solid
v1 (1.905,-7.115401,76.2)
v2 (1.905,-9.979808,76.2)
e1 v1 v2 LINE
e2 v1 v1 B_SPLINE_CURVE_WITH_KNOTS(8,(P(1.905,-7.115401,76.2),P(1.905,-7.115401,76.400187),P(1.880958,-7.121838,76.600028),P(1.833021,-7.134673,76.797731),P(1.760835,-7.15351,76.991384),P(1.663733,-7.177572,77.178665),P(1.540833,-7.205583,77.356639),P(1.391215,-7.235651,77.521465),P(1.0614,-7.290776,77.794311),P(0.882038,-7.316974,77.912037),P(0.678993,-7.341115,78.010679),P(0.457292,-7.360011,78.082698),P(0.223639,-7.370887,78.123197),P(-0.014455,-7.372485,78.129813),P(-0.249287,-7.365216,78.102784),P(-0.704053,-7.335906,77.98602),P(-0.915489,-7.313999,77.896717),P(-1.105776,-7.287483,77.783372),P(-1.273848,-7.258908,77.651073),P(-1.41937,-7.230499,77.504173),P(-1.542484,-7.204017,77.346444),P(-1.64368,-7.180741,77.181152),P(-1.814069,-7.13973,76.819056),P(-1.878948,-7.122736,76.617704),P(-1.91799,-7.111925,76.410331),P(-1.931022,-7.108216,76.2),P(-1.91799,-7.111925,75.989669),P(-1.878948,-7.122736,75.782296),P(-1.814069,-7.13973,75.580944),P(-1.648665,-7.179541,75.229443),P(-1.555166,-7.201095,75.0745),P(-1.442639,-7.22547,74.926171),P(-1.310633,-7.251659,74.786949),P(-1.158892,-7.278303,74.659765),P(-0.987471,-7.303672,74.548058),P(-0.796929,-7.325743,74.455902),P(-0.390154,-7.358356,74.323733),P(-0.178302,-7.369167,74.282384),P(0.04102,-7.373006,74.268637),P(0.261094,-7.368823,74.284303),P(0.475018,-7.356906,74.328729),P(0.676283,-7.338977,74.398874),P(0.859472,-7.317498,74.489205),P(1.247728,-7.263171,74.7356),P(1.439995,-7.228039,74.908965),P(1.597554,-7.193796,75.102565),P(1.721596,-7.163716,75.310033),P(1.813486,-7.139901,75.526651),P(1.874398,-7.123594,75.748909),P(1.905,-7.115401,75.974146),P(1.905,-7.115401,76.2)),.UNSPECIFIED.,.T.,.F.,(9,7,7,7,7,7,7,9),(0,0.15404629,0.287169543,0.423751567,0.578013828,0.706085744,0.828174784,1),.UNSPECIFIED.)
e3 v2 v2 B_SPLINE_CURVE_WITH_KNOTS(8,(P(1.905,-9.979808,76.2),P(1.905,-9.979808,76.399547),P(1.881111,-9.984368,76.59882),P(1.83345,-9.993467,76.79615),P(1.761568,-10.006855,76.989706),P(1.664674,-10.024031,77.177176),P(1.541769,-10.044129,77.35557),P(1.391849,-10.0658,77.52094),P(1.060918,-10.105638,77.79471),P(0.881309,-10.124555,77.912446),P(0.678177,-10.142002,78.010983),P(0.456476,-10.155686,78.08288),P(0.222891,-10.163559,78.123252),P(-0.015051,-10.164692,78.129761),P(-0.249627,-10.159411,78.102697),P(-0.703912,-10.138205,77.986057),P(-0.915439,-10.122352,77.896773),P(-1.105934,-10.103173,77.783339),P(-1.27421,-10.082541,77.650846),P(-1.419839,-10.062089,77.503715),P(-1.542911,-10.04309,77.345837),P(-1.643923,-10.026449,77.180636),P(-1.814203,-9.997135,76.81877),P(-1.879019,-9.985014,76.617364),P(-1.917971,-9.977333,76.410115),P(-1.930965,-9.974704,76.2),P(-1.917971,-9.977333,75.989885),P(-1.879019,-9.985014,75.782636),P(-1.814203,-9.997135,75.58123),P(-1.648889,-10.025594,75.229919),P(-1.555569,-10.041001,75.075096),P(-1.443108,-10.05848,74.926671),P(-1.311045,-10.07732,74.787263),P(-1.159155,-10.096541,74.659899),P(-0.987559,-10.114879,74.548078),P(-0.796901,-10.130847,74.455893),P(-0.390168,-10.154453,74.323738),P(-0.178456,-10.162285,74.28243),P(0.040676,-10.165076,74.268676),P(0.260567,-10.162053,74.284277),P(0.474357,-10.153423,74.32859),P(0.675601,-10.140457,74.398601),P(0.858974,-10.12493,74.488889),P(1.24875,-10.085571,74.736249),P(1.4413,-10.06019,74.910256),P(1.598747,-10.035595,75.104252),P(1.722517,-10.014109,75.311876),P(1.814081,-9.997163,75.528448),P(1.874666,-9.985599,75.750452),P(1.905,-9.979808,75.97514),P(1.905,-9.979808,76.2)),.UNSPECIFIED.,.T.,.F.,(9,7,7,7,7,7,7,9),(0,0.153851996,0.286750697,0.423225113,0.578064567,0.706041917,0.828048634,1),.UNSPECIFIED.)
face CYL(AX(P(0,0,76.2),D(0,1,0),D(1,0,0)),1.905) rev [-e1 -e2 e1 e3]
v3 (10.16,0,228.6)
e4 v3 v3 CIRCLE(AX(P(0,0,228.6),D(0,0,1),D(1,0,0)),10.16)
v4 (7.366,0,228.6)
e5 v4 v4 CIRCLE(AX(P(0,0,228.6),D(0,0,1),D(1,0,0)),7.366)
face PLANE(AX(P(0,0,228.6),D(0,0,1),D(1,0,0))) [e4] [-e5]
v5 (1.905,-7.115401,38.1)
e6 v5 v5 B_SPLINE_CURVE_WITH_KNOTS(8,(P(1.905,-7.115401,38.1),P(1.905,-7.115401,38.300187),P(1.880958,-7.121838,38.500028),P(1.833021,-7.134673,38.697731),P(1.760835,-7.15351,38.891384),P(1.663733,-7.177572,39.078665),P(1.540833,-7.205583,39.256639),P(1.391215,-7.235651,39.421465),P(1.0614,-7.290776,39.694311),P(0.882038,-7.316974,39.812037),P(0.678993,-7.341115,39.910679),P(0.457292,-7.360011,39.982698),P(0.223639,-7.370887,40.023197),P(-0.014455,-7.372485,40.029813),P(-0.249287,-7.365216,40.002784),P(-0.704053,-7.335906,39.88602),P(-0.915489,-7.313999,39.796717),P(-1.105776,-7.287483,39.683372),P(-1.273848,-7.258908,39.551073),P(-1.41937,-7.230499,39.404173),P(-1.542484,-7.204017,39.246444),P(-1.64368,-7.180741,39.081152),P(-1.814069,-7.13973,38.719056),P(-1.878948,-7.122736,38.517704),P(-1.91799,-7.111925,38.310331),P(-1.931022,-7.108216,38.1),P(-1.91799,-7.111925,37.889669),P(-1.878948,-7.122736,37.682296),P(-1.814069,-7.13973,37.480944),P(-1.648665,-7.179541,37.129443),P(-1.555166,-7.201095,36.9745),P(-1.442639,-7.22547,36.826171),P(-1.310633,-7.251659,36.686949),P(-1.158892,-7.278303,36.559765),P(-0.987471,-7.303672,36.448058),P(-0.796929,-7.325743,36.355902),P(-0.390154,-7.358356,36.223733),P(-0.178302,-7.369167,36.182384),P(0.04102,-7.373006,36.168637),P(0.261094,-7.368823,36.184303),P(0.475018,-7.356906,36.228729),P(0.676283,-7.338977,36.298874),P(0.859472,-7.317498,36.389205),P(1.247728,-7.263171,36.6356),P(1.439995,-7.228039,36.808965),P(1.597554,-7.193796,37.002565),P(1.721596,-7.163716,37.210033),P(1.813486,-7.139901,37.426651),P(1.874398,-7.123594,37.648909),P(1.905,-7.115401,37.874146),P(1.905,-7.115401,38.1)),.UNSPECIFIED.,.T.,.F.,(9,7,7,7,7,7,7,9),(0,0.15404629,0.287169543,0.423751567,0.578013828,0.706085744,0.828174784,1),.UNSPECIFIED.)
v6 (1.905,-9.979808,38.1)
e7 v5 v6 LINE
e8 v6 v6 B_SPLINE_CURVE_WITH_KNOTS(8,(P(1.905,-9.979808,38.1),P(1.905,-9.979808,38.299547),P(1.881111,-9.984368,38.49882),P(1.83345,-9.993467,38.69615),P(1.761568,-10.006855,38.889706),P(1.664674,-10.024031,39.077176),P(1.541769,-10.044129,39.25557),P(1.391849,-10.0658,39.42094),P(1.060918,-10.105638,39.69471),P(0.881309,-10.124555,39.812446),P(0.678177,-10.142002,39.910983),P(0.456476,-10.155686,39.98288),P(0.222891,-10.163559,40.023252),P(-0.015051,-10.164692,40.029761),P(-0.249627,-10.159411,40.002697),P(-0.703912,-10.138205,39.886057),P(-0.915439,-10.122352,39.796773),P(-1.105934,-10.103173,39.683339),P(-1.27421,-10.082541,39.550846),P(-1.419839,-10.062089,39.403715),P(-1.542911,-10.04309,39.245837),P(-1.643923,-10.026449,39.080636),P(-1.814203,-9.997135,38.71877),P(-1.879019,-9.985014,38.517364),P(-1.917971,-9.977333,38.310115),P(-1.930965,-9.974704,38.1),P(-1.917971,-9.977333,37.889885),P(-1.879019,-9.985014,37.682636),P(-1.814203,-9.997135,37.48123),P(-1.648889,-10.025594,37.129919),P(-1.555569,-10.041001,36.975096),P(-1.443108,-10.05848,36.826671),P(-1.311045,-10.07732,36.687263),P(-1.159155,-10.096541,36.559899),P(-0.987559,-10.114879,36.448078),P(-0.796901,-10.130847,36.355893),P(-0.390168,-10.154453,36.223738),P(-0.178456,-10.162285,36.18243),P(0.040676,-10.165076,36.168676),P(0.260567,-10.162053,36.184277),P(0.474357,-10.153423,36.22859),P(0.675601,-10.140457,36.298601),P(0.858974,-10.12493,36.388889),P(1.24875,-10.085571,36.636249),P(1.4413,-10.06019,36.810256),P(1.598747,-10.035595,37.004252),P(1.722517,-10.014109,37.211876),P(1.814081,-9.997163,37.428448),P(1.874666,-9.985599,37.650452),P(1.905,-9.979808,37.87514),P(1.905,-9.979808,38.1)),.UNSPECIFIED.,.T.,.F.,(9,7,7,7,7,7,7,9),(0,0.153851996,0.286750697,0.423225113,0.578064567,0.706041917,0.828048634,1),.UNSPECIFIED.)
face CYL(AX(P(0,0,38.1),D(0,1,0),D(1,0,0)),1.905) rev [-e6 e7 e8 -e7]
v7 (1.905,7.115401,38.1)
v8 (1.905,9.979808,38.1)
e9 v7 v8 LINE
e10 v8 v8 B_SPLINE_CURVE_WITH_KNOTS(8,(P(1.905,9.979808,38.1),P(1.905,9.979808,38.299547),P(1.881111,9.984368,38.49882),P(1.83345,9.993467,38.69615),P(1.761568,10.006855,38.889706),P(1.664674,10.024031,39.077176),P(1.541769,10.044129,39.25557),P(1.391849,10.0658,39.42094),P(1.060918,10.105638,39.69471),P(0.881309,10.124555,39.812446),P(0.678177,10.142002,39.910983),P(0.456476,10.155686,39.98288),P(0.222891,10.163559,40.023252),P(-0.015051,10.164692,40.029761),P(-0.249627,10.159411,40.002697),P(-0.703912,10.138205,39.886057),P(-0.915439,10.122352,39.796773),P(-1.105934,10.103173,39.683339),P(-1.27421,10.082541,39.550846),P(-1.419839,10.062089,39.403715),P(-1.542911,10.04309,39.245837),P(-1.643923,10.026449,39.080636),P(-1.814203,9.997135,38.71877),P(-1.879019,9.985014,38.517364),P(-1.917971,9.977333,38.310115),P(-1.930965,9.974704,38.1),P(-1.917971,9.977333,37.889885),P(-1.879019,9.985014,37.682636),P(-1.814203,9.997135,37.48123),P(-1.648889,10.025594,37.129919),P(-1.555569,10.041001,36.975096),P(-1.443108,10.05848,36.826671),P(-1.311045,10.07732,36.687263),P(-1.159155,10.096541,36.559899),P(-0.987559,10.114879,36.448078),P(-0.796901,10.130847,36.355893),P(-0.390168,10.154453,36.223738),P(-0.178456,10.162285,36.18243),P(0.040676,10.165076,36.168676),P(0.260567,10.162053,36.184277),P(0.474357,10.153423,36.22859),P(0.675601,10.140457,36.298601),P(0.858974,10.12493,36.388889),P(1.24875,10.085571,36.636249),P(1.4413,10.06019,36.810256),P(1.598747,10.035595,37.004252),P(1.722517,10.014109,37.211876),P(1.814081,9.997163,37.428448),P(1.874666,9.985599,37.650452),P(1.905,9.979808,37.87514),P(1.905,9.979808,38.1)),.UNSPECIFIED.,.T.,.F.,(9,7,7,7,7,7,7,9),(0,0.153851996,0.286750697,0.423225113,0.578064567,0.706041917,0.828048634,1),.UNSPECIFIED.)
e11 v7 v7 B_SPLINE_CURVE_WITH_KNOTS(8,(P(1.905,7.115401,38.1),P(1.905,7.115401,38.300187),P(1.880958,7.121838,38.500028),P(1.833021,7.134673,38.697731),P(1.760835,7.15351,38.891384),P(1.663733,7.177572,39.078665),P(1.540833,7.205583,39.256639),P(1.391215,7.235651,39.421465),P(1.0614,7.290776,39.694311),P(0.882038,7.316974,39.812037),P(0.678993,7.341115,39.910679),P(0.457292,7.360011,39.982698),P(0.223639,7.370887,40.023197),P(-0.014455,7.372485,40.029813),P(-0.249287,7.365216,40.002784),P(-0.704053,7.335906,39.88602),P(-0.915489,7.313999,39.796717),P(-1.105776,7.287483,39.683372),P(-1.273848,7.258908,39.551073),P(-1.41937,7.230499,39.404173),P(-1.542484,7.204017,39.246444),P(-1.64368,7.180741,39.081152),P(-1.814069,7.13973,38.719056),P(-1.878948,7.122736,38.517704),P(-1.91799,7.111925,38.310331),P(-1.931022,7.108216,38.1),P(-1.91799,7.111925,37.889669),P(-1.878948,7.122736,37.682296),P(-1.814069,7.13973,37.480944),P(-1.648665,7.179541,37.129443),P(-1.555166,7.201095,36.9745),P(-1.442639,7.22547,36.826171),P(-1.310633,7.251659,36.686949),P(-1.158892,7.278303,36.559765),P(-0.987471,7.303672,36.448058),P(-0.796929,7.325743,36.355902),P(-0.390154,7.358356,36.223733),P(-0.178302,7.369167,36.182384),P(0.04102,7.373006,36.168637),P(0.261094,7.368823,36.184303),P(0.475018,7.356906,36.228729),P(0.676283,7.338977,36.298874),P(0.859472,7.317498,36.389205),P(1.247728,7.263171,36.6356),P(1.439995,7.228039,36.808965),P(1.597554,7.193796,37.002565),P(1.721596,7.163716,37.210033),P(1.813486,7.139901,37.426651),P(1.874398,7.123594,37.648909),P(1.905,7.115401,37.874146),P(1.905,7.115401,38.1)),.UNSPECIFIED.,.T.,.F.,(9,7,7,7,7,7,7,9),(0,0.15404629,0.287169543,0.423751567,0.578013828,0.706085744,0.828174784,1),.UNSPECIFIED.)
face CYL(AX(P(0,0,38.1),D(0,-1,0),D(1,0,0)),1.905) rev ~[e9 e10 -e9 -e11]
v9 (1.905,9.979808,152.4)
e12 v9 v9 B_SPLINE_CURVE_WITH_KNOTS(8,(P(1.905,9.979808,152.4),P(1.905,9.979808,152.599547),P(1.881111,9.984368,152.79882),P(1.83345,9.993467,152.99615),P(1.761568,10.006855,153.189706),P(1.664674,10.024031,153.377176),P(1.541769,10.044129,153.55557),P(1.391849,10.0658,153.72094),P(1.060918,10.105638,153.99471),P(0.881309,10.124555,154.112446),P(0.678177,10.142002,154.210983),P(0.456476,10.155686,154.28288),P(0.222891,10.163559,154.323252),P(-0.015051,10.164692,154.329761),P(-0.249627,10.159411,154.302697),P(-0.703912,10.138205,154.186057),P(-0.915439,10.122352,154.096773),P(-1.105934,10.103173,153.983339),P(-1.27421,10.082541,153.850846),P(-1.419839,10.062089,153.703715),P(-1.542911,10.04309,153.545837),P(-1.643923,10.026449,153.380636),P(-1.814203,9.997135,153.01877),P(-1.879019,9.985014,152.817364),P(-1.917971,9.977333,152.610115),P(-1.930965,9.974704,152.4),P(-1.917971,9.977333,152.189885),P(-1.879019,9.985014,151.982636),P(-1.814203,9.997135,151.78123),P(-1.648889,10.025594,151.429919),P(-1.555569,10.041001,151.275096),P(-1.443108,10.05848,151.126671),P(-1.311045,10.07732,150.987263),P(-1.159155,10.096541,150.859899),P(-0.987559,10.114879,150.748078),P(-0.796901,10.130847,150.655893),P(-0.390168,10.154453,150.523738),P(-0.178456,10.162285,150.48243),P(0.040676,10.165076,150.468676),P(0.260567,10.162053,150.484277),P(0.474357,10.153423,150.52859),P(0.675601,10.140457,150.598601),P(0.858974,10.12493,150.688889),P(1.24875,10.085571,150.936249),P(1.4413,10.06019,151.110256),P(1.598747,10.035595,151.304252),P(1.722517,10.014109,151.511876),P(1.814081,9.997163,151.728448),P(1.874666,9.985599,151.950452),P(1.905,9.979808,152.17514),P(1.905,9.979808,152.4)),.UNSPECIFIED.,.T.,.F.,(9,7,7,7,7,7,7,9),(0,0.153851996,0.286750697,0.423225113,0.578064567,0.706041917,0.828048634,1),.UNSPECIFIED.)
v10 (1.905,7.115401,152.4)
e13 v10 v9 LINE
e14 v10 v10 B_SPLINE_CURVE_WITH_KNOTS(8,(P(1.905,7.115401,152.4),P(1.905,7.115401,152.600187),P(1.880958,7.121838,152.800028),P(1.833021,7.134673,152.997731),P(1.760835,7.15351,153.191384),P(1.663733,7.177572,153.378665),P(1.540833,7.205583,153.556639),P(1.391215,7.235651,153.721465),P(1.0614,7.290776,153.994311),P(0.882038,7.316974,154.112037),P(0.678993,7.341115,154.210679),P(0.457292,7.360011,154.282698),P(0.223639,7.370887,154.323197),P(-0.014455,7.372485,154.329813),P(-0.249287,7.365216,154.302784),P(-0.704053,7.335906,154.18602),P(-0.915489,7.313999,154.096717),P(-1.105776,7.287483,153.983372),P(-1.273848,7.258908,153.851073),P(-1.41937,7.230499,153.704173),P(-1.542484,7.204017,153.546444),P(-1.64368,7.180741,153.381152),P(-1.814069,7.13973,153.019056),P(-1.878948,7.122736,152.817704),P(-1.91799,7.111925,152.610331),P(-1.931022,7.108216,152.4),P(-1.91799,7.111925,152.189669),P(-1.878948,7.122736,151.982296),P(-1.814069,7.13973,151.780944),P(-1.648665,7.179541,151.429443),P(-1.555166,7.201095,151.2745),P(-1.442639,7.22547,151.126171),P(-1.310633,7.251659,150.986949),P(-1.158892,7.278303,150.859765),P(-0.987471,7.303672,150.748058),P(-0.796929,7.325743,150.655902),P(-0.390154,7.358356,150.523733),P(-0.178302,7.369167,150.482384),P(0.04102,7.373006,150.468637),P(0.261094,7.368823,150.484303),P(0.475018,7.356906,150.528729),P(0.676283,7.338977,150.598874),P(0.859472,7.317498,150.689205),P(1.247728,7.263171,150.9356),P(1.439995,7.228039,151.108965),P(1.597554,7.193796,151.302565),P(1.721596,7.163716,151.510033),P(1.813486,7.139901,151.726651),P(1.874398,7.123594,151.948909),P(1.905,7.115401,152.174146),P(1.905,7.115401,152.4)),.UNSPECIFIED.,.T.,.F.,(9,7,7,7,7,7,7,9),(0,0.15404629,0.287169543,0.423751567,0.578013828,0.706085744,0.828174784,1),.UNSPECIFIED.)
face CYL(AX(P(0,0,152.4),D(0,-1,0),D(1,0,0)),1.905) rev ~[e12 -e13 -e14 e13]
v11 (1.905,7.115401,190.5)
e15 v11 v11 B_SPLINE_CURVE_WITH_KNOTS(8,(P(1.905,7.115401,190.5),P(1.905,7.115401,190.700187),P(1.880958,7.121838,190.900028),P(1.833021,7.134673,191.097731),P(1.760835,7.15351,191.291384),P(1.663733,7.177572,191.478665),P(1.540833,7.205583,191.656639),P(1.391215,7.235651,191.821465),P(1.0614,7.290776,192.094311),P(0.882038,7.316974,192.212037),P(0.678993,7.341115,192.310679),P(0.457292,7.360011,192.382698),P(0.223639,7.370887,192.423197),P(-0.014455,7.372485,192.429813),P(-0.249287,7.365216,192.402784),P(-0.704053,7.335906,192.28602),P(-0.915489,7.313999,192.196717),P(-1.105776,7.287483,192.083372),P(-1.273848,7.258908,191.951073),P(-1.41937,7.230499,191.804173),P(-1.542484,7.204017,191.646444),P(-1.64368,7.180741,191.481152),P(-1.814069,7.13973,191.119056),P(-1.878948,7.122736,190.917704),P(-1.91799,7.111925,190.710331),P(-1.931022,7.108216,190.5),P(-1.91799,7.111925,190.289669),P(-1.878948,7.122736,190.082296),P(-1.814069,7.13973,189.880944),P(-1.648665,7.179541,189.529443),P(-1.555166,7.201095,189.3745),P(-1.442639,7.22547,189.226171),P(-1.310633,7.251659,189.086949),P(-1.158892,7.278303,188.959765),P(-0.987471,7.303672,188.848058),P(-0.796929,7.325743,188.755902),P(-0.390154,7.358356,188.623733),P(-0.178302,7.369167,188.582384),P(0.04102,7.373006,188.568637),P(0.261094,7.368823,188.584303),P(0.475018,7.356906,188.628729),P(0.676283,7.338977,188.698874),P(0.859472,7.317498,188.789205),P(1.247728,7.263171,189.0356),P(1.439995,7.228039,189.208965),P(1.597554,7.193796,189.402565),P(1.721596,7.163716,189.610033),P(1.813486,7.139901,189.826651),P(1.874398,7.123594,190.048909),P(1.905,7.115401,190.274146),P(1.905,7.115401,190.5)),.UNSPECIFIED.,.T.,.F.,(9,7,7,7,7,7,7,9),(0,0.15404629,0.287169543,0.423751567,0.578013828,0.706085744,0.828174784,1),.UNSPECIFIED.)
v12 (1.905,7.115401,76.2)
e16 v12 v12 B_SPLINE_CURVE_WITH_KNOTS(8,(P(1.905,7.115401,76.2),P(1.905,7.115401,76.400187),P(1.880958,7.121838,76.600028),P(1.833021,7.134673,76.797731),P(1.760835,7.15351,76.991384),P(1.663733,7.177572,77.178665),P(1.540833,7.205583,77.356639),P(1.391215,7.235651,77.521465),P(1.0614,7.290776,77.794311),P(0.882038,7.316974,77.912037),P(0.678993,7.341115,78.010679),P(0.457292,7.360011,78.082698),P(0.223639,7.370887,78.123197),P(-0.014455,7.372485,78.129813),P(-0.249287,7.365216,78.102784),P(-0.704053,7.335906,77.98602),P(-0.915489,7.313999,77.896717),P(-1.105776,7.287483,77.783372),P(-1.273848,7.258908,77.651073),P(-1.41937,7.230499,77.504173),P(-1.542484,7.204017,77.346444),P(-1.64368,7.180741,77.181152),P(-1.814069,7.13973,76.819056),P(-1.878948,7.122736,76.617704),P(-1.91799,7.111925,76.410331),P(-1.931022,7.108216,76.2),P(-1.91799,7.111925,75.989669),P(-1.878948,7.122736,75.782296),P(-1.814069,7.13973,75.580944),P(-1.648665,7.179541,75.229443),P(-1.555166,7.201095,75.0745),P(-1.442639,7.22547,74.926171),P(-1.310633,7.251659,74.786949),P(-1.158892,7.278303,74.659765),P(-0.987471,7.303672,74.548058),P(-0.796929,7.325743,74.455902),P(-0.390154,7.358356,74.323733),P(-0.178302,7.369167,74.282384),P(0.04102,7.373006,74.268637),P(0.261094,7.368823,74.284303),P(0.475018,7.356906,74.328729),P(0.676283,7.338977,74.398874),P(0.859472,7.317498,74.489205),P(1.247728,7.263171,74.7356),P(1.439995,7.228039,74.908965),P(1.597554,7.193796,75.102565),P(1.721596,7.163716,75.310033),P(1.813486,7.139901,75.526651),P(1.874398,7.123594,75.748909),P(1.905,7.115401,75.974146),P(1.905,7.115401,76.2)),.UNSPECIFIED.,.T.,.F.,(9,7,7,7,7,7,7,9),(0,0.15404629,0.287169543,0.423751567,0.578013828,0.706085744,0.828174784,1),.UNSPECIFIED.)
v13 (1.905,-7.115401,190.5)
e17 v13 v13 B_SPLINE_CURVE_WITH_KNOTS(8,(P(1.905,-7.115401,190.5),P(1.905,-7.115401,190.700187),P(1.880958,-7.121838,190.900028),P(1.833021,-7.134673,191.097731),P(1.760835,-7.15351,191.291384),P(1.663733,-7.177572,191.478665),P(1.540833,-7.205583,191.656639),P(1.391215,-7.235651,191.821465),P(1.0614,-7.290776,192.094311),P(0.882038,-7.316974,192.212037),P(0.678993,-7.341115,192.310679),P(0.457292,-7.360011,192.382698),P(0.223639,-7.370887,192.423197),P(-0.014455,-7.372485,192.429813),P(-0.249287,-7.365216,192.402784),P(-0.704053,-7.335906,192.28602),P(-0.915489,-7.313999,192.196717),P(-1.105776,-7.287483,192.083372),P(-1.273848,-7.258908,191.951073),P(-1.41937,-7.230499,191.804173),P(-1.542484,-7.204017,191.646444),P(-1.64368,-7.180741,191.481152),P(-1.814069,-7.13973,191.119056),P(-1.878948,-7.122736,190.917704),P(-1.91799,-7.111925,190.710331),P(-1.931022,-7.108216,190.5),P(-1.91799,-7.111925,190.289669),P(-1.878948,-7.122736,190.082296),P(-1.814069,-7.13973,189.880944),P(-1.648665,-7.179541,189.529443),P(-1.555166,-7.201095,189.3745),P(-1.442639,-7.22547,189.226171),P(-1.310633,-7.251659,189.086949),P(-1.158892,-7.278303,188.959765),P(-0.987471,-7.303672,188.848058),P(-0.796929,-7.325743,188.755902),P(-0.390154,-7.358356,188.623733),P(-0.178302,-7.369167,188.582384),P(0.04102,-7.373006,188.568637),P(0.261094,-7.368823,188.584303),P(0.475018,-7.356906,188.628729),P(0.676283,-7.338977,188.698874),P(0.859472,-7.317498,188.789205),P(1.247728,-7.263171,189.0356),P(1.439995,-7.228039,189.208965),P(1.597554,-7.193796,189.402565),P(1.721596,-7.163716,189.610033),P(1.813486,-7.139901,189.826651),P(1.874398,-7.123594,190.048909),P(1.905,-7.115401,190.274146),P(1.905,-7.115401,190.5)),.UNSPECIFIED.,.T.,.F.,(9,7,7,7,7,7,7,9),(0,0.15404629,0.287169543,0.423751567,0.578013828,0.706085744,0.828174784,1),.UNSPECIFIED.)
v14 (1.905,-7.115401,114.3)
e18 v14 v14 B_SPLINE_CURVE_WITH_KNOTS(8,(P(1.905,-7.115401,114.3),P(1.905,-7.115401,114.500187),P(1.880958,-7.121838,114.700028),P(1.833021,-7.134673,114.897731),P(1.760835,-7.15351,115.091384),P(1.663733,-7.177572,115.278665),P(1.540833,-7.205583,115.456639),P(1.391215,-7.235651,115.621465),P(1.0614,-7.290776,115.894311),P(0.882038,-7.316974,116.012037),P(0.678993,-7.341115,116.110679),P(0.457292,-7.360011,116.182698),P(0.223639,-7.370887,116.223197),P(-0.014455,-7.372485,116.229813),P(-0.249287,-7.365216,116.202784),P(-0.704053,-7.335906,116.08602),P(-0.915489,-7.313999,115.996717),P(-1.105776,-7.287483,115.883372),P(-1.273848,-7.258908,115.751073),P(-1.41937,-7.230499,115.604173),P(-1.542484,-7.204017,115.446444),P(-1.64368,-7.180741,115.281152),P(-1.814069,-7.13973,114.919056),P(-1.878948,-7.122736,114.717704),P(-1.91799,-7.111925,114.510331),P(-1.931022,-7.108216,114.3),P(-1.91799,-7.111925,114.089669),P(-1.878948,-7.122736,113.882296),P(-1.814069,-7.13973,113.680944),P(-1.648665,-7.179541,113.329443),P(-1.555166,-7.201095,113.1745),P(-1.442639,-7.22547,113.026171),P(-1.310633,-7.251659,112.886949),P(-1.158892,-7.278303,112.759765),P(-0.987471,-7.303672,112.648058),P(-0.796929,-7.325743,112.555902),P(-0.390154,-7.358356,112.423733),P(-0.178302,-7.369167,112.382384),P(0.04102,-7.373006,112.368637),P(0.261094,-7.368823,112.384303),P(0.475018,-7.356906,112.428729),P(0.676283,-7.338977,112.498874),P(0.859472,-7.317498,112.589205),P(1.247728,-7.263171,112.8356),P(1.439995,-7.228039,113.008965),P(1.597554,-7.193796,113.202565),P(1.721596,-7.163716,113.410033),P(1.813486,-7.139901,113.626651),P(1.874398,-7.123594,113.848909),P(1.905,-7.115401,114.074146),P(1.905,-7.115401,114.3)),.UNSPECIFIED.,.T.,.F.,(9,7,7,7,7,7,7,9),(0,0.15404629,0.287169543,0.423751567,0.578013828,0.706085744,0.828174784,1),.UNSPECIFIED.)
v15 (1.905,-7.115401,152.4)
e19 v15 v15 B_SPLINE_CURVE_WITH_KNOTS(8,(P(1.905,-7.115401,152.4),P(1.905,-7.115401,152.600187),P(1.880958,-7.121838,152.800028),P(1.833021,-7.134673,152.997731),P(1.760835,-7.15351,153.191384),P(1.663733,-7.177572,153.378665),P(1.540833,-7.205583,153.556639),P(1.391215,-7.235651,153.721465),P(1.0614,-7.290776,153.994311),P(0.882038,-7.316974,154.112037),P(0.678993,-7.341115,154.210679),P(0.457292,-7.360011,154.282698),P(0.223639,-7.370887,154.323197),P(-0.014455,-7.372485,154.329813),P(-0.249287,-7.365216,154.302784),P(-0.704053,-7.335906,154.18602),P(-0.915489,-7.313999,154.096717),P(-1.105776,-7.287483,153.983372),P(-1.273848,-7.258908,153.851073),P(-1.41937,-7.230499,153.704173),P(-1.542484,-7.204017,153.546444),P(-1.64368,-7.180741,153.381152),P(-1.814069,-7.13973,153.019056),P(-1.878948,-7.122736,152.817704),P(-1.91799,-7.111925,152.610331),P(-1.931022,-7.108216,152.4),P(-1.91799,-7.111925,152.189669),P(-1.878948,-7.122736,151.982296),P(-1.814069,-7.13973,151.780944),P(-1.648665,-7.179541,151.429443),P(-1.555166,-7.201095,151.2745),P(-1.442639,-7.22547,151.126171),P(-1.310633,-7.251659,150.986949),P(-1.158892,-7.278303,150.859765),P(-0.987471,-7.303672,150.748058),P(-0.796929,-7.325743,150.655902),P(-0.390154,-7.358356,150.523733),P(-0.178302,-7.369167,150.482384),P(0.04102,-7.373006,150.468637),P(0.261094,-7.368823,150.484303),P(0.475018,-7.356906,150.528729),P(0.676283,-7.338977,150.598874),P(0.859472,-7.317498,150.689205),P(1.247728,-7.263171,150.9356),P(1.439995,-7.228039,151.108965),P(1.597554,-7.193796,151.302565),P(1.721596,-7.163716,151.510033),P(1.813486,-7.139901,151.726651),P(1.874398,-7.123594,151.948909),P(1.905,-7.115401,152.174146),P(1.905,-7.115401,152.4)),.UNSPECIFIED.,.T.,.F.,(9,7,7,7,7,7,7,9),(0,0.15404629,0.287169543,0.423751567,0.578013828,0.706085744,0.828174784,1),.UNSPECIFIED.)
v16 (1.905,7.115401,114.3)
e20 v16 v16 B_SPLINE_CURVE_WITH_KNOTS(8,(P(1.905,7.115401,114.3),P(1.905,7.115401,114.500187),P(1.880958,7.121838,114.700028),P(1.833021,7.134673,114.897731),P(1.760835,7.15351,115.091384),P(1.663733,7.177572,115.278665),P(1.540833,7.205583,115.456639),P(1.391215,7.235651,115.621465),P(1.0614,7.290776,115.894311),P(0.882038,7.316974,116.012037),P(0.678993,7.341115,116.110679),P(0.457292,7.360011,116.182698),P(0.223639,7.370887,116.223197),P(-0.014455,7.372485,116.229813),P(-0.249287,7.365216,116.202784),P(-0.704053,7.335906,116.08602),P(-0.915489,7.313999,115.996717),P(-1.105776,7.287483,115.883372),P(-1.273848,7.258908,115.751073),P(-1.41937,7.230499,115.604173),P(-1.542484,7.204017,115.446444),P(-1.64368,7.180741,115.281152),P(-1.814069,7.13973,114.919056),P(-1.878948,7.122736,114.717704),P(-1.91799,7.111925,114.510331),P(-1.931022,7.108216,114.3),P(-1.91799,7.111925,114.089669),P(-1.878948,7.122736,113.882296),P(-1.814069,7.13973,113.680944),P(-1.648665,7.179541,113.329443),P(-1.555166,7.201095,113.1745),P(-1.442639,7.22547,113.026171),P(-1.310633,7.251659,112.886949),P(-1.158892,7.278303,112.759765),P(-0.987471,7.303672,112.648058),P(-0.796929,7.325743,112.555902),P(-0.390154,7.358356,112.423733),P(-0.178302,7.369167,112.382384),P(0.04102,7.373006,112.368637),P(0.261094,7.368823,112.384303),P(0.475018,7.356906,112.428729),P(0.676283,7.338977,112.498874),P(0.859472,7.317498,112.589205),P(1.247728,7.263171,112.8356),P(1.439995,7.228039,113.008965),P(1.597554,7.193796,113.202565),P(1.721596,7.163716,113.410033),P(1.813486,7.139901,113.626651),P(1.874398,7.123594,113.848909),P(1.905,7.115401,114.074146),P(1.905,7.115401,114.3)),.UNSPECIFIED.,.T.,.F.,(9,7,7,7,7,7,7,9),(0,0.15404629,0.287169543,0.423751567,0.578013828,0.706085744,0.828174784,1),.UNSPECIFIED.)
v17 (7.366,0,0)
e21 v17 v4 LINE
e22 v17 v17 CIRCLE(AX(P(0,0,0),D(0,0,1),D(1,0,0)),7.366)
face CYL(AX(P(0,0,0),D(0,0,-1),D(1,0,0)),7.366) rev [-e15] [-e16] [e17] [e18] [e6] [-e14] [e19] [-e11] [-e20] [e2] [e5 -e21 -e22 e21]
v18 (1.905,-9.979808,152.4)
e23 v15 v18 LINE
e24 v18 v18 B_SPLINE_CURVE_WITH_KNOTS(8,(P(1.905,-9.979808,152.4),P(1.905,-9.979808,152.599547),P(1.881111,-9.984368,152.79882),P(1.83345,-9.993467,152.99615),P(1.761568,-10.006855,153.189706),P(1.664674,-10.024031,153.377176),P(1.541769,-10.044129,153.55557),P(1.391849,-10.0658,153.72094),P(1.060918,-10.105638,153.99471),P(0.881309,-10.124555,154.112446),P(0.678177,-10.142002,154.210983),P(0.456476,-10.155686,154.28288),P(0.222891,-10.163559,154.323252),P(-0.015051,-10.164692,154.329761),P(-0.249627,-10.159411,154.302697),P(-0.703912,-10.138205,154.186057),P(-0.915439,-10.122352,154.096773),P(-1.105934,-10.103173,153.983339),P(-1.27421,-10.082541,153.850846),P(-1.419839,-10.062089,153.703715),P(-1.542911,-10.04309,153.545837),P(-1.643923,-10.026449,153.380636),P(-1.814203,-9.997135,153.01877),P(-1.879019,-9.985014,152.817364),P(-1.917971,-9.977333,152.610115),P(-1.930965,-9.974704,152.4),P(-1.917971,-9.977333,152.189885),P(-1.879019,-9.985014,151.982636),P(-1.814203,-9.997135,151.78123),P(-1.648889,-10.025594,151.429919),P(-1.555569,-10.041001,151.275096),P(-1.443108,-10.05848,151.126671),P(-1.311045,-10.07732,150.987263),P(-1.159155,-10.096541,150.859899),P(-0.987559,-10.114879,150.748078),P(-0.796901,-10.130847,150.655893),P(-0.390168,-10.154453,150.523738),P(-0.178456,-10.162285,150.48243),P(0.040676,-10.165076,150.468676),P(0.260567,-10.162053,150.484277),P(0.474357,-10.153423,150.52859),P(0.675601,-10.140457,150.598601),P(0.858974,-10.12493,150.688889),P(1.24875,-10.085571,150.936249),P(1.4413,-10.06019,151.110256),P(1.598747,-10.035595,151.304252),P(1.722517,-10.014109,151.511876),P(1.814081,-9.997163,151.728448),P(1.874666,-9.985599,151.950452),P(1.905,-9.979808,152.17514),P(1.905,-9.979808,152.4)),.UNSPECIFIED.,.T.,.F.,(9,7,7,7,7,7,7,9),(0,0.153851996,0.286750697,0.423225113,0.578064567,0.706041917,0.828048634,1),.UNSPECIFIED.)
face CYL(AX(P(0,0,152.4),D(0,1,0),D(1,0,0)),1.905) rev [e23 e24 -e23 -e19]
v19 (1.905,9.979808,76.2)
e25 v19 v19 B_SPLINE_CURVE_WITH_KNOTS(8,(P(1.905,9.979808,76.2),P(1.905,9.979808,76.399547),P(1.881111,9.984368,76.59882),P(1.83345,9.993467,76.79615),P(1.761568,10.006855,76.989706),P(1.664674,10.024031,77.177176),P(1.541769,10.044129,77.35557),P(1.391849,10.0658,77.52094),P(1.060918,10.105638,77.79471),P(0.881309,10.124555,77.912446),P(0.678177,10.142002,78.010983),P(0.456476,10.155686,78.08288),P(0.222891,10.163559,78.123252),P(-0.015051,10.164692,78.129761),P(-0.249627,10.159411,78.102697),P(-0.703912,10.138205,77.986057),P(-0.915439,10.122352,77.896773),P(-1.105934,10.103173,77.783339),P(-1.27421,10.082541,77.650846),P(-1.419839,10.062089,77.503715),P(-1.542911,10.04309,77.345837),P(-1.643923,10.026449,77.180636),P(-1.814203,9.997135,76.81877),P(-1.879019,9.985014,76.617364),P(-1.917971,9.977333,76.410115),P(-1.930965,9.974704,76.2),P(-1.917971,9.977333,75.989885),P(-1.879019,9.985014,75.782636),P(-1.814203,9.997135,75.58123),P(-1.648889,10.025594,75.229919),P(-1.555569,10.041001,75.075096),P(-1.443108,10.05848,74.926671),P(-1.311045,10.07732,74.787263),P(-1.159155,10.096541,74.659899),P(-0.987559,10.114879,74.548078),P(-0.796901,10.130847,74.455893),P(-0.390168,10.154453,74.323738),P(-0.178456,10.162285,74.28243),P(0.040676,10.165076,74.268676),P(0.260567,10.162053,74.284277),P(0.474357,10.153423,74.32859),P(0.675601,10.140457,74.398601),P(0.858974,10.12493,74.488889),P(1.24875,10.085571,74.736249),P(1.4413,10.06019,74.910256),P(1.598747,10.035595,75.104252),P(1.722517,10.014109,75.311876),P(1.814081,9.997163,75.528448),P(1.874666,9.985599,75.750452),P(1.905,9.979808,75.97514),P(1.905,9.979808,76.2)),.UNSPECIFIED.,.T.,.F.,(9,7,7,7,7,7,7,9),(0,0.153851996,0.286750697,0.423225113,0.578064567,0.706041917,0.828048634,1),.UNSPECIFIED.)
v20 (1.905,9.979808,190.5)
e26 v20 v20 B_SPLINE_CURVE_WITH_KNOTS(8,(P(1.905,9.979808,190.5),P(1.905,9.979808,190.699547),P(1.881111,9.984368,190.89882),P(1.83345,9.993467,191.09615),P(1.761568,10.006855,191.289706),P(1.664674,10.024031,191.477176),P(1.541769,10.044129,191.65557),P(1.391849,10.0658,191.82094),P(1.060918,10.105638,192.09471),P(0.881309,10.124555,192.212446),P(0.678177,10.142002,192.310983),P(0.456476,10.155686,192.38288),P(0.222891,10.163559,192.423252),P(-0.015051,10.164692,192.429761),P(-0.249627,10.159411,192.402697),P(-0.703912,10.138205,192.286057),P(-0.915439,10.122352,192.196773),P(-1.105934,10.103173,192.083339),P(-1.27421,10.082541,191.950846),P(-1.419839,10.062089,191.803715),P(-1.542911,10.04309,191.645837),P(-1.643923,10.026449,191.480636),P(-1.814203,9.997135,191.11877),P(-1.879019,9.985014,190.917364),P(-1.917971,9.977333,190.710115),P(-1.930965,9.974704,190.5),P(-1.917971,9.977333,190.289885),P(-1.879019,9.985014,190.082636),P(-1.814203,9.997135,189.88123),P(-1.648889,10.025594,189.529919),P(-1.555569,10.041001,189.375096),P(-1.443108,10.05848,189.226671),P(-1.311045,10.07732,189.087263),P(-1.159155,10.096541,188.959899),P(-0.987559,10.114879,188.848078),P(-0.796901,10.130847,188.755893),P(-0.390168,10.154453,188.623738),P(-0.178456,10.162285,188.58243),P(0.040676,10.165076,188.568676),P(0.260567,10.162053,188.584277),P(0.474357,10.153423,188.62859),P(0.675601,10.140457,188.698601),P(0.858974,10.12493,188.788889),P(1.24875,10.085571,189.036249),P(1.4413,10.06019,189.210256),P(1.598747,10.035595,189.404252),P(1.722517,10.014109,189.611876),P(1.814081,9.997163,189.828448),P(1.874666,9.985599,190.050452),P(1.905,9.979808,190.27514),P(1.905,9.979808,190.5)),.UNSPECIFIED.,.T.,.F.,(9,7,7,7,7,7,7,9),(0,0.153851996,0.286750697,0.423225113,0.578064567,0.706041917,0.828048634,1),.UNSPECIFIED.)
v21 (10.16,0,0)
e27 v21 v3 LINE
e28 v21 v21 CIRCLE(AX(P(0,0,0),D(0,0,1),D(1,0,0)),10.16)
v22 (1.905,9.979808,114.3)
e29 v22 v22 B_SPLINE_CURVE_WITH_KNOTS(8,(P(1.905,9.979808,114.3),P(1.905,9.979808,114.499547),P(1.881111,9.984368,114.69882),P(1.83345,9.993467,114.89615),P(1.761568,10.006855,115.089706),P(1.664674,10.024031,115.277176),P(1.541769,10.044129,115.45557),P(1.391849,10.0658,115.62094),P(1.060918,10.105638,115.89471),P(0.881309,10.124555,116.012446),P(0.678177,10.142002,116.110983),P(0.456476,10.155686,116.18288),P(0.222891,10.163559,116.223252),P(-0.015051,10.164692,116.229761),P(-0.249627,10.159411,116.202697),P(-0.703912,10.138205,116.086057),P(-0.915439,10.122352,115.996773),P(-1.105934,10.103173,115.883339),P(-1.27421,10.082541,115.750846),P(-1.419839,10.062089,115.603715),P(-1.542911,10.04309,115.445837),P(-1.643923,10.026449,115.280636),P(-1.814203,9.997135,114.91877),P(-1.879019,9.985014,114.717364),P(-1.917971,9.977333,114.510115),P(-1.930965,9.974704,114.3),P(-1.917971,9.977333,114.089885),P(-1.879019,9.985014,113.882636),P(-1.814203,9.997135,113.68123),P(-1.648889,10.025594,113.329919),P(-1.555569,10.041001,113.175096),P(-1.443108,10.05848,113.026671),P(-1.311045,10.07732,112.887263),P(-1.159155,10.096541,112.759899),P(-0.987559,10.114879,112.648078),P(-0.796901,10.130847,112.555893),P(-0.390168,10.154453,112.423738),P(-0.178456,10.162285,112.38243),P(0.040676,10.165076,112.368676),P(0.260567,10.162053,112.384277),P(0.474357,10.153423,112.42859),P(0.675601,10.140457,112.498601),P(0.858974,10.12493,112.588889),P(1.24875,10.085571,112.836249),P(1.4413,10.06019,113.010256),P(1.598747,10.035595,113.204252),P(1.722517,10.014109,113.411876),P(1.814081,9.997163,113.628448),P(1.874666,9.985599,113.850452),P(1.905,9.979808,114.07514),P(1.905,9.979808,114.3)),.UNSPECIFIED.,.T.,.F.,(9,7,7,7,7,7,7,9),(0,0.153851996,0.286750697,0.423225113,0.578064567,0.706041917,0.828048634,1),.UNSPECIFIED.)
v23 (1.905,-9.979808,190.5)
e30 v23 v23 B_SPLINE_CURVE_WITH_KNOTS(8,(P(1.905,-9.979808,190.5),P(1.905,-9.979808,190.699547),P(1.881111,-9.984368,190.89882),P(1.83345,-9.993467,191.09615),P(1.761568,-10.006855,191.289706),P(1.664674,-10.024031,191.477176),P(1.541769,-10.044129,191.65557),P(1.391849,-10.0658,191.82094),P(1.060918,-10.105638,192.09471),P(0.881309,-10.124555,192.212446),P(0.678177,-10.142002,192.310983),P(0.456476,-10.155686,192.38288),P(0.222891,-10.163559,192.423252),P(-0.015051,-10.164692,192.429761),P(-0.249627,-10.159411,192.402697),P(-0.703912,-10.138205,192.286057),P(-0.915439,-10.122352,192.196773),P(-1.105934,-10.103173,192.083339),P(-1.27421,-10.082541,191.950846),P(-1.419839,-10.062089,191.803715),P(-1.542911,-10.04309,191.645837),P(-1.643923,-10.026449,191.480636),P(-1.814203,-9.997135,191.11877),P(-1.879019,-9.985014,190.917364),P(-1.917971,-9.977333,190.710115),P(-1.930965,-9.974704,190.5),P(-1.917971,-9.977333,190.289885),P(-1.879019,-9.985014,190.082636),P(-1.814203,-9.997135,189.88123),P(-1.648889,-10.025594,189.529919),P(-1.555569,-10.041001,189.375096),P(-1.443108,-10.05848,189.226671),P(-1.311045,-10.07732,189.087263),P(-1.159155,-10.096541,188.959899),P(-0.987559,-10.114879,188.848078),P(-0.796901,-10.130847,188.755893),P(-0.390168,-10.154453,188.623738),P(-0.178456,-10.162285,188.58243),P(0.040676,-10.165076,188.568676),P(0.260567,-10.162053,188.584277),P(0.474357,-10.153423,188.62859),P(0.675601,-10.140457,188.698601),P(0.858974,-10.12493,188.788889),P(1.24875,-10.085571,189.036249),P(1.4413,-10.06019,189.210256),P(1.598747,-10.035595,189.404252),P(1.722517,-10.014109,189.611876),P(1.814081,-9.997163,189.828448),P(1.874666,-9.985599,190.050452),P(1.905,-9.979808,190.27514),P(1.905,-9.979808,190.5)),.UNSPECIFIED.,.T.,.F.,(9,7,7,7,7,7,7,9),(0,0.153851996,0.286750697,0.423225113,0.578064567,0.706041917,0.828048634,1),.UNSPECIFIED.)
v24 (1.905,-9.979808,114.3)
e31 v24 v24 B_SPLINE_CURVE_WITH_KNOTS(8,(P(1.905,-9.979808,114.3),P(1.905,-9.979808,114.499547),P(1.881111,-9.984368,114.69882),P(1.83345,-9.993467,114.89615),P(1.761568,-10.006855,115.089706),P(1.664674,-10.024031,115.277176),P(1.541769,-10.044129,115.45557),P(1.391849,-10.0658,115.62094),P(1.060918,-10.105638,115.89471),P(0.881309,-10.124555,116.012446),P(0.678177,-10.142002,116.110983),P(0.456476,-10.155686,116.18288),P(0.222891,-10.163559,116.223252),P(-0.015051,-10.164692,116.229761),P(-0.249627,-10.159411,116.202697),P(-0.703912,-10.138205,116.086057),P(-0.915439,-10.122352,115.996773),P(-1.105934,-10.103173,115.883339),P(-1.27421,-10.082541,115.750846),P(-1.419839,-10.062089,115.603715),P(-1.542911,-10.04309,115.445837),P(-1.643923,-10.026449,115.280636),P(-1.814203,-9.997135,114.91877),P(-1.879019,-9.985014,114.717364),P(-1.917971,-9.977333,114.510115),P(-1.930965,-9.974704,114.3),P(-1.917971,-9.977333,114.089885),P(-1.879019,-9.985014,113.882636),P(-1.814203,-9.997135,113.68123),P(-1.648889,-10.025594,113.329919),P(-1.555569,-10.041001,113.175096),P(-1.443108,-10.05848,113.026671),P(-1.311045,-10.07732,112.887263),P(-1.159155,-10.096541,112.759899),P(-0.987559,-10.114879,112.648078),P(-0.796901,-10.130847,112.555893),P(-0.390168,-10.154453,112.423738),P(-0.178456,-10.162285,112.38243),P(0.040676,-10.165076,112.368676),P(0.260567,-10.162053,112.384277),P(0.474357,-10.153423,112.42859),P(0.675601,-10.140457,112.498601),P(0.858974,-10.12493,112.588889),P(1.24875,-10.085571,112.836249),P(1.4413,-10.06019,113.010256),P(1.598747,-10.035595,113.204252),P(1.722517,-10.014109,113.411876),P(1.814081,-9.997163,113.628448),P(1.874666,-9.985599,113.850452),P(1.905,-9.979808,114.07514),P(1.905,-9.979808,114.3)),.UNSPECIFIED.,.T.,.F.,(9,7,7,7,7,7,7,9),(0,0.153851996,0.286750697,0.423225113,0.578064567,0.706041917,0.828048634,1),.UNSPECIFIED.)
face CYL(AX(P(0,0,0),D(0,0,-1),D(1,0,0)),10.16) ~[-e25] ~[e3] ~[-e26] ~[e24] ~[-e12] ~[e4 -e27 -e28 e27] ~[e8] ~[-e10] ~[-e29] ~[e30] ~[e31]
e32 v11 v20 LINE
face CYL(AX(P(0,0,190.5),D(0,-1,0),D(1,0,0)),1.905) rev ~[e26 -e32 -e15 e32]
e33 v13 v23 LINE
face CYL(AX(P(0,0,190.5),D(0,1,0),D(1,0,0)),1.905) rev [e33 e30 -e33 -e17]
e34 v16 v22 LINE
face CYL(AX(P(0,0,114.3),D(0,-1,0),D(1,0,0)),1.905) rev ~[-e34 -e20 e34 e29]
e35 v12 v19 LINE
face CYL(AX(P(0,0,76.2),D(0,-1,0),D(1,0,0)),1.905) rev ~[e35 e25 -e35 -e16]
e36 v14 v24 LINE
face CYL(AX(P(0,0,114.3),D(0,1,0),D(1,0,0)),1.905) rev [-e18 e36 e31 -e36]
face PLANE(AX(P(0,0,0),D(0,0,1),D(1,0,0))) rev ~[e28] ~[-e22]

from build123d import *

# Parameters (mm, degrees)
F0_R          = 10.16
F0_R_2        = 7.366
F1_DEPTH      = 228.6
F2_R          = 1.905
F3_DEPTH      = 25.4
F3_DEPTH_BACK = 25.4


with BuildPart() as f1:
    # F0 (on Top) → F1 (new body)
    with BuildSketch(Plane.XY):
        Circle(F0_R)
        Circle(F0_R_2, mode=Mode.SUBTRACT)
    extrude(amount=F1_DEPTH)

    # F2 (on Front) → F3 (cut, two sides)
    with BuildSketch(Plane.XZ) as f3_sk:
        with Locations((0, 38.1)):
            Circle(F2_R)
        with Locations((0, 76.2)):
            Circle(F2_R)
        with Locations((0, 114.3)):
            Circle(F2_R)
        with Locations((0, 152.4)):
            Circle(F2_R)
        with Locations((0, 190.5)):
            Circle(F2_R)
    extrude(amount=-F3_DEPTH, mode=Mode.SUBTRACT)
    extrude(f3_sk.sketch, amount=F3_DEPTH_BACK, mode=Mode.SUBTRACT)


solid = f1.part
